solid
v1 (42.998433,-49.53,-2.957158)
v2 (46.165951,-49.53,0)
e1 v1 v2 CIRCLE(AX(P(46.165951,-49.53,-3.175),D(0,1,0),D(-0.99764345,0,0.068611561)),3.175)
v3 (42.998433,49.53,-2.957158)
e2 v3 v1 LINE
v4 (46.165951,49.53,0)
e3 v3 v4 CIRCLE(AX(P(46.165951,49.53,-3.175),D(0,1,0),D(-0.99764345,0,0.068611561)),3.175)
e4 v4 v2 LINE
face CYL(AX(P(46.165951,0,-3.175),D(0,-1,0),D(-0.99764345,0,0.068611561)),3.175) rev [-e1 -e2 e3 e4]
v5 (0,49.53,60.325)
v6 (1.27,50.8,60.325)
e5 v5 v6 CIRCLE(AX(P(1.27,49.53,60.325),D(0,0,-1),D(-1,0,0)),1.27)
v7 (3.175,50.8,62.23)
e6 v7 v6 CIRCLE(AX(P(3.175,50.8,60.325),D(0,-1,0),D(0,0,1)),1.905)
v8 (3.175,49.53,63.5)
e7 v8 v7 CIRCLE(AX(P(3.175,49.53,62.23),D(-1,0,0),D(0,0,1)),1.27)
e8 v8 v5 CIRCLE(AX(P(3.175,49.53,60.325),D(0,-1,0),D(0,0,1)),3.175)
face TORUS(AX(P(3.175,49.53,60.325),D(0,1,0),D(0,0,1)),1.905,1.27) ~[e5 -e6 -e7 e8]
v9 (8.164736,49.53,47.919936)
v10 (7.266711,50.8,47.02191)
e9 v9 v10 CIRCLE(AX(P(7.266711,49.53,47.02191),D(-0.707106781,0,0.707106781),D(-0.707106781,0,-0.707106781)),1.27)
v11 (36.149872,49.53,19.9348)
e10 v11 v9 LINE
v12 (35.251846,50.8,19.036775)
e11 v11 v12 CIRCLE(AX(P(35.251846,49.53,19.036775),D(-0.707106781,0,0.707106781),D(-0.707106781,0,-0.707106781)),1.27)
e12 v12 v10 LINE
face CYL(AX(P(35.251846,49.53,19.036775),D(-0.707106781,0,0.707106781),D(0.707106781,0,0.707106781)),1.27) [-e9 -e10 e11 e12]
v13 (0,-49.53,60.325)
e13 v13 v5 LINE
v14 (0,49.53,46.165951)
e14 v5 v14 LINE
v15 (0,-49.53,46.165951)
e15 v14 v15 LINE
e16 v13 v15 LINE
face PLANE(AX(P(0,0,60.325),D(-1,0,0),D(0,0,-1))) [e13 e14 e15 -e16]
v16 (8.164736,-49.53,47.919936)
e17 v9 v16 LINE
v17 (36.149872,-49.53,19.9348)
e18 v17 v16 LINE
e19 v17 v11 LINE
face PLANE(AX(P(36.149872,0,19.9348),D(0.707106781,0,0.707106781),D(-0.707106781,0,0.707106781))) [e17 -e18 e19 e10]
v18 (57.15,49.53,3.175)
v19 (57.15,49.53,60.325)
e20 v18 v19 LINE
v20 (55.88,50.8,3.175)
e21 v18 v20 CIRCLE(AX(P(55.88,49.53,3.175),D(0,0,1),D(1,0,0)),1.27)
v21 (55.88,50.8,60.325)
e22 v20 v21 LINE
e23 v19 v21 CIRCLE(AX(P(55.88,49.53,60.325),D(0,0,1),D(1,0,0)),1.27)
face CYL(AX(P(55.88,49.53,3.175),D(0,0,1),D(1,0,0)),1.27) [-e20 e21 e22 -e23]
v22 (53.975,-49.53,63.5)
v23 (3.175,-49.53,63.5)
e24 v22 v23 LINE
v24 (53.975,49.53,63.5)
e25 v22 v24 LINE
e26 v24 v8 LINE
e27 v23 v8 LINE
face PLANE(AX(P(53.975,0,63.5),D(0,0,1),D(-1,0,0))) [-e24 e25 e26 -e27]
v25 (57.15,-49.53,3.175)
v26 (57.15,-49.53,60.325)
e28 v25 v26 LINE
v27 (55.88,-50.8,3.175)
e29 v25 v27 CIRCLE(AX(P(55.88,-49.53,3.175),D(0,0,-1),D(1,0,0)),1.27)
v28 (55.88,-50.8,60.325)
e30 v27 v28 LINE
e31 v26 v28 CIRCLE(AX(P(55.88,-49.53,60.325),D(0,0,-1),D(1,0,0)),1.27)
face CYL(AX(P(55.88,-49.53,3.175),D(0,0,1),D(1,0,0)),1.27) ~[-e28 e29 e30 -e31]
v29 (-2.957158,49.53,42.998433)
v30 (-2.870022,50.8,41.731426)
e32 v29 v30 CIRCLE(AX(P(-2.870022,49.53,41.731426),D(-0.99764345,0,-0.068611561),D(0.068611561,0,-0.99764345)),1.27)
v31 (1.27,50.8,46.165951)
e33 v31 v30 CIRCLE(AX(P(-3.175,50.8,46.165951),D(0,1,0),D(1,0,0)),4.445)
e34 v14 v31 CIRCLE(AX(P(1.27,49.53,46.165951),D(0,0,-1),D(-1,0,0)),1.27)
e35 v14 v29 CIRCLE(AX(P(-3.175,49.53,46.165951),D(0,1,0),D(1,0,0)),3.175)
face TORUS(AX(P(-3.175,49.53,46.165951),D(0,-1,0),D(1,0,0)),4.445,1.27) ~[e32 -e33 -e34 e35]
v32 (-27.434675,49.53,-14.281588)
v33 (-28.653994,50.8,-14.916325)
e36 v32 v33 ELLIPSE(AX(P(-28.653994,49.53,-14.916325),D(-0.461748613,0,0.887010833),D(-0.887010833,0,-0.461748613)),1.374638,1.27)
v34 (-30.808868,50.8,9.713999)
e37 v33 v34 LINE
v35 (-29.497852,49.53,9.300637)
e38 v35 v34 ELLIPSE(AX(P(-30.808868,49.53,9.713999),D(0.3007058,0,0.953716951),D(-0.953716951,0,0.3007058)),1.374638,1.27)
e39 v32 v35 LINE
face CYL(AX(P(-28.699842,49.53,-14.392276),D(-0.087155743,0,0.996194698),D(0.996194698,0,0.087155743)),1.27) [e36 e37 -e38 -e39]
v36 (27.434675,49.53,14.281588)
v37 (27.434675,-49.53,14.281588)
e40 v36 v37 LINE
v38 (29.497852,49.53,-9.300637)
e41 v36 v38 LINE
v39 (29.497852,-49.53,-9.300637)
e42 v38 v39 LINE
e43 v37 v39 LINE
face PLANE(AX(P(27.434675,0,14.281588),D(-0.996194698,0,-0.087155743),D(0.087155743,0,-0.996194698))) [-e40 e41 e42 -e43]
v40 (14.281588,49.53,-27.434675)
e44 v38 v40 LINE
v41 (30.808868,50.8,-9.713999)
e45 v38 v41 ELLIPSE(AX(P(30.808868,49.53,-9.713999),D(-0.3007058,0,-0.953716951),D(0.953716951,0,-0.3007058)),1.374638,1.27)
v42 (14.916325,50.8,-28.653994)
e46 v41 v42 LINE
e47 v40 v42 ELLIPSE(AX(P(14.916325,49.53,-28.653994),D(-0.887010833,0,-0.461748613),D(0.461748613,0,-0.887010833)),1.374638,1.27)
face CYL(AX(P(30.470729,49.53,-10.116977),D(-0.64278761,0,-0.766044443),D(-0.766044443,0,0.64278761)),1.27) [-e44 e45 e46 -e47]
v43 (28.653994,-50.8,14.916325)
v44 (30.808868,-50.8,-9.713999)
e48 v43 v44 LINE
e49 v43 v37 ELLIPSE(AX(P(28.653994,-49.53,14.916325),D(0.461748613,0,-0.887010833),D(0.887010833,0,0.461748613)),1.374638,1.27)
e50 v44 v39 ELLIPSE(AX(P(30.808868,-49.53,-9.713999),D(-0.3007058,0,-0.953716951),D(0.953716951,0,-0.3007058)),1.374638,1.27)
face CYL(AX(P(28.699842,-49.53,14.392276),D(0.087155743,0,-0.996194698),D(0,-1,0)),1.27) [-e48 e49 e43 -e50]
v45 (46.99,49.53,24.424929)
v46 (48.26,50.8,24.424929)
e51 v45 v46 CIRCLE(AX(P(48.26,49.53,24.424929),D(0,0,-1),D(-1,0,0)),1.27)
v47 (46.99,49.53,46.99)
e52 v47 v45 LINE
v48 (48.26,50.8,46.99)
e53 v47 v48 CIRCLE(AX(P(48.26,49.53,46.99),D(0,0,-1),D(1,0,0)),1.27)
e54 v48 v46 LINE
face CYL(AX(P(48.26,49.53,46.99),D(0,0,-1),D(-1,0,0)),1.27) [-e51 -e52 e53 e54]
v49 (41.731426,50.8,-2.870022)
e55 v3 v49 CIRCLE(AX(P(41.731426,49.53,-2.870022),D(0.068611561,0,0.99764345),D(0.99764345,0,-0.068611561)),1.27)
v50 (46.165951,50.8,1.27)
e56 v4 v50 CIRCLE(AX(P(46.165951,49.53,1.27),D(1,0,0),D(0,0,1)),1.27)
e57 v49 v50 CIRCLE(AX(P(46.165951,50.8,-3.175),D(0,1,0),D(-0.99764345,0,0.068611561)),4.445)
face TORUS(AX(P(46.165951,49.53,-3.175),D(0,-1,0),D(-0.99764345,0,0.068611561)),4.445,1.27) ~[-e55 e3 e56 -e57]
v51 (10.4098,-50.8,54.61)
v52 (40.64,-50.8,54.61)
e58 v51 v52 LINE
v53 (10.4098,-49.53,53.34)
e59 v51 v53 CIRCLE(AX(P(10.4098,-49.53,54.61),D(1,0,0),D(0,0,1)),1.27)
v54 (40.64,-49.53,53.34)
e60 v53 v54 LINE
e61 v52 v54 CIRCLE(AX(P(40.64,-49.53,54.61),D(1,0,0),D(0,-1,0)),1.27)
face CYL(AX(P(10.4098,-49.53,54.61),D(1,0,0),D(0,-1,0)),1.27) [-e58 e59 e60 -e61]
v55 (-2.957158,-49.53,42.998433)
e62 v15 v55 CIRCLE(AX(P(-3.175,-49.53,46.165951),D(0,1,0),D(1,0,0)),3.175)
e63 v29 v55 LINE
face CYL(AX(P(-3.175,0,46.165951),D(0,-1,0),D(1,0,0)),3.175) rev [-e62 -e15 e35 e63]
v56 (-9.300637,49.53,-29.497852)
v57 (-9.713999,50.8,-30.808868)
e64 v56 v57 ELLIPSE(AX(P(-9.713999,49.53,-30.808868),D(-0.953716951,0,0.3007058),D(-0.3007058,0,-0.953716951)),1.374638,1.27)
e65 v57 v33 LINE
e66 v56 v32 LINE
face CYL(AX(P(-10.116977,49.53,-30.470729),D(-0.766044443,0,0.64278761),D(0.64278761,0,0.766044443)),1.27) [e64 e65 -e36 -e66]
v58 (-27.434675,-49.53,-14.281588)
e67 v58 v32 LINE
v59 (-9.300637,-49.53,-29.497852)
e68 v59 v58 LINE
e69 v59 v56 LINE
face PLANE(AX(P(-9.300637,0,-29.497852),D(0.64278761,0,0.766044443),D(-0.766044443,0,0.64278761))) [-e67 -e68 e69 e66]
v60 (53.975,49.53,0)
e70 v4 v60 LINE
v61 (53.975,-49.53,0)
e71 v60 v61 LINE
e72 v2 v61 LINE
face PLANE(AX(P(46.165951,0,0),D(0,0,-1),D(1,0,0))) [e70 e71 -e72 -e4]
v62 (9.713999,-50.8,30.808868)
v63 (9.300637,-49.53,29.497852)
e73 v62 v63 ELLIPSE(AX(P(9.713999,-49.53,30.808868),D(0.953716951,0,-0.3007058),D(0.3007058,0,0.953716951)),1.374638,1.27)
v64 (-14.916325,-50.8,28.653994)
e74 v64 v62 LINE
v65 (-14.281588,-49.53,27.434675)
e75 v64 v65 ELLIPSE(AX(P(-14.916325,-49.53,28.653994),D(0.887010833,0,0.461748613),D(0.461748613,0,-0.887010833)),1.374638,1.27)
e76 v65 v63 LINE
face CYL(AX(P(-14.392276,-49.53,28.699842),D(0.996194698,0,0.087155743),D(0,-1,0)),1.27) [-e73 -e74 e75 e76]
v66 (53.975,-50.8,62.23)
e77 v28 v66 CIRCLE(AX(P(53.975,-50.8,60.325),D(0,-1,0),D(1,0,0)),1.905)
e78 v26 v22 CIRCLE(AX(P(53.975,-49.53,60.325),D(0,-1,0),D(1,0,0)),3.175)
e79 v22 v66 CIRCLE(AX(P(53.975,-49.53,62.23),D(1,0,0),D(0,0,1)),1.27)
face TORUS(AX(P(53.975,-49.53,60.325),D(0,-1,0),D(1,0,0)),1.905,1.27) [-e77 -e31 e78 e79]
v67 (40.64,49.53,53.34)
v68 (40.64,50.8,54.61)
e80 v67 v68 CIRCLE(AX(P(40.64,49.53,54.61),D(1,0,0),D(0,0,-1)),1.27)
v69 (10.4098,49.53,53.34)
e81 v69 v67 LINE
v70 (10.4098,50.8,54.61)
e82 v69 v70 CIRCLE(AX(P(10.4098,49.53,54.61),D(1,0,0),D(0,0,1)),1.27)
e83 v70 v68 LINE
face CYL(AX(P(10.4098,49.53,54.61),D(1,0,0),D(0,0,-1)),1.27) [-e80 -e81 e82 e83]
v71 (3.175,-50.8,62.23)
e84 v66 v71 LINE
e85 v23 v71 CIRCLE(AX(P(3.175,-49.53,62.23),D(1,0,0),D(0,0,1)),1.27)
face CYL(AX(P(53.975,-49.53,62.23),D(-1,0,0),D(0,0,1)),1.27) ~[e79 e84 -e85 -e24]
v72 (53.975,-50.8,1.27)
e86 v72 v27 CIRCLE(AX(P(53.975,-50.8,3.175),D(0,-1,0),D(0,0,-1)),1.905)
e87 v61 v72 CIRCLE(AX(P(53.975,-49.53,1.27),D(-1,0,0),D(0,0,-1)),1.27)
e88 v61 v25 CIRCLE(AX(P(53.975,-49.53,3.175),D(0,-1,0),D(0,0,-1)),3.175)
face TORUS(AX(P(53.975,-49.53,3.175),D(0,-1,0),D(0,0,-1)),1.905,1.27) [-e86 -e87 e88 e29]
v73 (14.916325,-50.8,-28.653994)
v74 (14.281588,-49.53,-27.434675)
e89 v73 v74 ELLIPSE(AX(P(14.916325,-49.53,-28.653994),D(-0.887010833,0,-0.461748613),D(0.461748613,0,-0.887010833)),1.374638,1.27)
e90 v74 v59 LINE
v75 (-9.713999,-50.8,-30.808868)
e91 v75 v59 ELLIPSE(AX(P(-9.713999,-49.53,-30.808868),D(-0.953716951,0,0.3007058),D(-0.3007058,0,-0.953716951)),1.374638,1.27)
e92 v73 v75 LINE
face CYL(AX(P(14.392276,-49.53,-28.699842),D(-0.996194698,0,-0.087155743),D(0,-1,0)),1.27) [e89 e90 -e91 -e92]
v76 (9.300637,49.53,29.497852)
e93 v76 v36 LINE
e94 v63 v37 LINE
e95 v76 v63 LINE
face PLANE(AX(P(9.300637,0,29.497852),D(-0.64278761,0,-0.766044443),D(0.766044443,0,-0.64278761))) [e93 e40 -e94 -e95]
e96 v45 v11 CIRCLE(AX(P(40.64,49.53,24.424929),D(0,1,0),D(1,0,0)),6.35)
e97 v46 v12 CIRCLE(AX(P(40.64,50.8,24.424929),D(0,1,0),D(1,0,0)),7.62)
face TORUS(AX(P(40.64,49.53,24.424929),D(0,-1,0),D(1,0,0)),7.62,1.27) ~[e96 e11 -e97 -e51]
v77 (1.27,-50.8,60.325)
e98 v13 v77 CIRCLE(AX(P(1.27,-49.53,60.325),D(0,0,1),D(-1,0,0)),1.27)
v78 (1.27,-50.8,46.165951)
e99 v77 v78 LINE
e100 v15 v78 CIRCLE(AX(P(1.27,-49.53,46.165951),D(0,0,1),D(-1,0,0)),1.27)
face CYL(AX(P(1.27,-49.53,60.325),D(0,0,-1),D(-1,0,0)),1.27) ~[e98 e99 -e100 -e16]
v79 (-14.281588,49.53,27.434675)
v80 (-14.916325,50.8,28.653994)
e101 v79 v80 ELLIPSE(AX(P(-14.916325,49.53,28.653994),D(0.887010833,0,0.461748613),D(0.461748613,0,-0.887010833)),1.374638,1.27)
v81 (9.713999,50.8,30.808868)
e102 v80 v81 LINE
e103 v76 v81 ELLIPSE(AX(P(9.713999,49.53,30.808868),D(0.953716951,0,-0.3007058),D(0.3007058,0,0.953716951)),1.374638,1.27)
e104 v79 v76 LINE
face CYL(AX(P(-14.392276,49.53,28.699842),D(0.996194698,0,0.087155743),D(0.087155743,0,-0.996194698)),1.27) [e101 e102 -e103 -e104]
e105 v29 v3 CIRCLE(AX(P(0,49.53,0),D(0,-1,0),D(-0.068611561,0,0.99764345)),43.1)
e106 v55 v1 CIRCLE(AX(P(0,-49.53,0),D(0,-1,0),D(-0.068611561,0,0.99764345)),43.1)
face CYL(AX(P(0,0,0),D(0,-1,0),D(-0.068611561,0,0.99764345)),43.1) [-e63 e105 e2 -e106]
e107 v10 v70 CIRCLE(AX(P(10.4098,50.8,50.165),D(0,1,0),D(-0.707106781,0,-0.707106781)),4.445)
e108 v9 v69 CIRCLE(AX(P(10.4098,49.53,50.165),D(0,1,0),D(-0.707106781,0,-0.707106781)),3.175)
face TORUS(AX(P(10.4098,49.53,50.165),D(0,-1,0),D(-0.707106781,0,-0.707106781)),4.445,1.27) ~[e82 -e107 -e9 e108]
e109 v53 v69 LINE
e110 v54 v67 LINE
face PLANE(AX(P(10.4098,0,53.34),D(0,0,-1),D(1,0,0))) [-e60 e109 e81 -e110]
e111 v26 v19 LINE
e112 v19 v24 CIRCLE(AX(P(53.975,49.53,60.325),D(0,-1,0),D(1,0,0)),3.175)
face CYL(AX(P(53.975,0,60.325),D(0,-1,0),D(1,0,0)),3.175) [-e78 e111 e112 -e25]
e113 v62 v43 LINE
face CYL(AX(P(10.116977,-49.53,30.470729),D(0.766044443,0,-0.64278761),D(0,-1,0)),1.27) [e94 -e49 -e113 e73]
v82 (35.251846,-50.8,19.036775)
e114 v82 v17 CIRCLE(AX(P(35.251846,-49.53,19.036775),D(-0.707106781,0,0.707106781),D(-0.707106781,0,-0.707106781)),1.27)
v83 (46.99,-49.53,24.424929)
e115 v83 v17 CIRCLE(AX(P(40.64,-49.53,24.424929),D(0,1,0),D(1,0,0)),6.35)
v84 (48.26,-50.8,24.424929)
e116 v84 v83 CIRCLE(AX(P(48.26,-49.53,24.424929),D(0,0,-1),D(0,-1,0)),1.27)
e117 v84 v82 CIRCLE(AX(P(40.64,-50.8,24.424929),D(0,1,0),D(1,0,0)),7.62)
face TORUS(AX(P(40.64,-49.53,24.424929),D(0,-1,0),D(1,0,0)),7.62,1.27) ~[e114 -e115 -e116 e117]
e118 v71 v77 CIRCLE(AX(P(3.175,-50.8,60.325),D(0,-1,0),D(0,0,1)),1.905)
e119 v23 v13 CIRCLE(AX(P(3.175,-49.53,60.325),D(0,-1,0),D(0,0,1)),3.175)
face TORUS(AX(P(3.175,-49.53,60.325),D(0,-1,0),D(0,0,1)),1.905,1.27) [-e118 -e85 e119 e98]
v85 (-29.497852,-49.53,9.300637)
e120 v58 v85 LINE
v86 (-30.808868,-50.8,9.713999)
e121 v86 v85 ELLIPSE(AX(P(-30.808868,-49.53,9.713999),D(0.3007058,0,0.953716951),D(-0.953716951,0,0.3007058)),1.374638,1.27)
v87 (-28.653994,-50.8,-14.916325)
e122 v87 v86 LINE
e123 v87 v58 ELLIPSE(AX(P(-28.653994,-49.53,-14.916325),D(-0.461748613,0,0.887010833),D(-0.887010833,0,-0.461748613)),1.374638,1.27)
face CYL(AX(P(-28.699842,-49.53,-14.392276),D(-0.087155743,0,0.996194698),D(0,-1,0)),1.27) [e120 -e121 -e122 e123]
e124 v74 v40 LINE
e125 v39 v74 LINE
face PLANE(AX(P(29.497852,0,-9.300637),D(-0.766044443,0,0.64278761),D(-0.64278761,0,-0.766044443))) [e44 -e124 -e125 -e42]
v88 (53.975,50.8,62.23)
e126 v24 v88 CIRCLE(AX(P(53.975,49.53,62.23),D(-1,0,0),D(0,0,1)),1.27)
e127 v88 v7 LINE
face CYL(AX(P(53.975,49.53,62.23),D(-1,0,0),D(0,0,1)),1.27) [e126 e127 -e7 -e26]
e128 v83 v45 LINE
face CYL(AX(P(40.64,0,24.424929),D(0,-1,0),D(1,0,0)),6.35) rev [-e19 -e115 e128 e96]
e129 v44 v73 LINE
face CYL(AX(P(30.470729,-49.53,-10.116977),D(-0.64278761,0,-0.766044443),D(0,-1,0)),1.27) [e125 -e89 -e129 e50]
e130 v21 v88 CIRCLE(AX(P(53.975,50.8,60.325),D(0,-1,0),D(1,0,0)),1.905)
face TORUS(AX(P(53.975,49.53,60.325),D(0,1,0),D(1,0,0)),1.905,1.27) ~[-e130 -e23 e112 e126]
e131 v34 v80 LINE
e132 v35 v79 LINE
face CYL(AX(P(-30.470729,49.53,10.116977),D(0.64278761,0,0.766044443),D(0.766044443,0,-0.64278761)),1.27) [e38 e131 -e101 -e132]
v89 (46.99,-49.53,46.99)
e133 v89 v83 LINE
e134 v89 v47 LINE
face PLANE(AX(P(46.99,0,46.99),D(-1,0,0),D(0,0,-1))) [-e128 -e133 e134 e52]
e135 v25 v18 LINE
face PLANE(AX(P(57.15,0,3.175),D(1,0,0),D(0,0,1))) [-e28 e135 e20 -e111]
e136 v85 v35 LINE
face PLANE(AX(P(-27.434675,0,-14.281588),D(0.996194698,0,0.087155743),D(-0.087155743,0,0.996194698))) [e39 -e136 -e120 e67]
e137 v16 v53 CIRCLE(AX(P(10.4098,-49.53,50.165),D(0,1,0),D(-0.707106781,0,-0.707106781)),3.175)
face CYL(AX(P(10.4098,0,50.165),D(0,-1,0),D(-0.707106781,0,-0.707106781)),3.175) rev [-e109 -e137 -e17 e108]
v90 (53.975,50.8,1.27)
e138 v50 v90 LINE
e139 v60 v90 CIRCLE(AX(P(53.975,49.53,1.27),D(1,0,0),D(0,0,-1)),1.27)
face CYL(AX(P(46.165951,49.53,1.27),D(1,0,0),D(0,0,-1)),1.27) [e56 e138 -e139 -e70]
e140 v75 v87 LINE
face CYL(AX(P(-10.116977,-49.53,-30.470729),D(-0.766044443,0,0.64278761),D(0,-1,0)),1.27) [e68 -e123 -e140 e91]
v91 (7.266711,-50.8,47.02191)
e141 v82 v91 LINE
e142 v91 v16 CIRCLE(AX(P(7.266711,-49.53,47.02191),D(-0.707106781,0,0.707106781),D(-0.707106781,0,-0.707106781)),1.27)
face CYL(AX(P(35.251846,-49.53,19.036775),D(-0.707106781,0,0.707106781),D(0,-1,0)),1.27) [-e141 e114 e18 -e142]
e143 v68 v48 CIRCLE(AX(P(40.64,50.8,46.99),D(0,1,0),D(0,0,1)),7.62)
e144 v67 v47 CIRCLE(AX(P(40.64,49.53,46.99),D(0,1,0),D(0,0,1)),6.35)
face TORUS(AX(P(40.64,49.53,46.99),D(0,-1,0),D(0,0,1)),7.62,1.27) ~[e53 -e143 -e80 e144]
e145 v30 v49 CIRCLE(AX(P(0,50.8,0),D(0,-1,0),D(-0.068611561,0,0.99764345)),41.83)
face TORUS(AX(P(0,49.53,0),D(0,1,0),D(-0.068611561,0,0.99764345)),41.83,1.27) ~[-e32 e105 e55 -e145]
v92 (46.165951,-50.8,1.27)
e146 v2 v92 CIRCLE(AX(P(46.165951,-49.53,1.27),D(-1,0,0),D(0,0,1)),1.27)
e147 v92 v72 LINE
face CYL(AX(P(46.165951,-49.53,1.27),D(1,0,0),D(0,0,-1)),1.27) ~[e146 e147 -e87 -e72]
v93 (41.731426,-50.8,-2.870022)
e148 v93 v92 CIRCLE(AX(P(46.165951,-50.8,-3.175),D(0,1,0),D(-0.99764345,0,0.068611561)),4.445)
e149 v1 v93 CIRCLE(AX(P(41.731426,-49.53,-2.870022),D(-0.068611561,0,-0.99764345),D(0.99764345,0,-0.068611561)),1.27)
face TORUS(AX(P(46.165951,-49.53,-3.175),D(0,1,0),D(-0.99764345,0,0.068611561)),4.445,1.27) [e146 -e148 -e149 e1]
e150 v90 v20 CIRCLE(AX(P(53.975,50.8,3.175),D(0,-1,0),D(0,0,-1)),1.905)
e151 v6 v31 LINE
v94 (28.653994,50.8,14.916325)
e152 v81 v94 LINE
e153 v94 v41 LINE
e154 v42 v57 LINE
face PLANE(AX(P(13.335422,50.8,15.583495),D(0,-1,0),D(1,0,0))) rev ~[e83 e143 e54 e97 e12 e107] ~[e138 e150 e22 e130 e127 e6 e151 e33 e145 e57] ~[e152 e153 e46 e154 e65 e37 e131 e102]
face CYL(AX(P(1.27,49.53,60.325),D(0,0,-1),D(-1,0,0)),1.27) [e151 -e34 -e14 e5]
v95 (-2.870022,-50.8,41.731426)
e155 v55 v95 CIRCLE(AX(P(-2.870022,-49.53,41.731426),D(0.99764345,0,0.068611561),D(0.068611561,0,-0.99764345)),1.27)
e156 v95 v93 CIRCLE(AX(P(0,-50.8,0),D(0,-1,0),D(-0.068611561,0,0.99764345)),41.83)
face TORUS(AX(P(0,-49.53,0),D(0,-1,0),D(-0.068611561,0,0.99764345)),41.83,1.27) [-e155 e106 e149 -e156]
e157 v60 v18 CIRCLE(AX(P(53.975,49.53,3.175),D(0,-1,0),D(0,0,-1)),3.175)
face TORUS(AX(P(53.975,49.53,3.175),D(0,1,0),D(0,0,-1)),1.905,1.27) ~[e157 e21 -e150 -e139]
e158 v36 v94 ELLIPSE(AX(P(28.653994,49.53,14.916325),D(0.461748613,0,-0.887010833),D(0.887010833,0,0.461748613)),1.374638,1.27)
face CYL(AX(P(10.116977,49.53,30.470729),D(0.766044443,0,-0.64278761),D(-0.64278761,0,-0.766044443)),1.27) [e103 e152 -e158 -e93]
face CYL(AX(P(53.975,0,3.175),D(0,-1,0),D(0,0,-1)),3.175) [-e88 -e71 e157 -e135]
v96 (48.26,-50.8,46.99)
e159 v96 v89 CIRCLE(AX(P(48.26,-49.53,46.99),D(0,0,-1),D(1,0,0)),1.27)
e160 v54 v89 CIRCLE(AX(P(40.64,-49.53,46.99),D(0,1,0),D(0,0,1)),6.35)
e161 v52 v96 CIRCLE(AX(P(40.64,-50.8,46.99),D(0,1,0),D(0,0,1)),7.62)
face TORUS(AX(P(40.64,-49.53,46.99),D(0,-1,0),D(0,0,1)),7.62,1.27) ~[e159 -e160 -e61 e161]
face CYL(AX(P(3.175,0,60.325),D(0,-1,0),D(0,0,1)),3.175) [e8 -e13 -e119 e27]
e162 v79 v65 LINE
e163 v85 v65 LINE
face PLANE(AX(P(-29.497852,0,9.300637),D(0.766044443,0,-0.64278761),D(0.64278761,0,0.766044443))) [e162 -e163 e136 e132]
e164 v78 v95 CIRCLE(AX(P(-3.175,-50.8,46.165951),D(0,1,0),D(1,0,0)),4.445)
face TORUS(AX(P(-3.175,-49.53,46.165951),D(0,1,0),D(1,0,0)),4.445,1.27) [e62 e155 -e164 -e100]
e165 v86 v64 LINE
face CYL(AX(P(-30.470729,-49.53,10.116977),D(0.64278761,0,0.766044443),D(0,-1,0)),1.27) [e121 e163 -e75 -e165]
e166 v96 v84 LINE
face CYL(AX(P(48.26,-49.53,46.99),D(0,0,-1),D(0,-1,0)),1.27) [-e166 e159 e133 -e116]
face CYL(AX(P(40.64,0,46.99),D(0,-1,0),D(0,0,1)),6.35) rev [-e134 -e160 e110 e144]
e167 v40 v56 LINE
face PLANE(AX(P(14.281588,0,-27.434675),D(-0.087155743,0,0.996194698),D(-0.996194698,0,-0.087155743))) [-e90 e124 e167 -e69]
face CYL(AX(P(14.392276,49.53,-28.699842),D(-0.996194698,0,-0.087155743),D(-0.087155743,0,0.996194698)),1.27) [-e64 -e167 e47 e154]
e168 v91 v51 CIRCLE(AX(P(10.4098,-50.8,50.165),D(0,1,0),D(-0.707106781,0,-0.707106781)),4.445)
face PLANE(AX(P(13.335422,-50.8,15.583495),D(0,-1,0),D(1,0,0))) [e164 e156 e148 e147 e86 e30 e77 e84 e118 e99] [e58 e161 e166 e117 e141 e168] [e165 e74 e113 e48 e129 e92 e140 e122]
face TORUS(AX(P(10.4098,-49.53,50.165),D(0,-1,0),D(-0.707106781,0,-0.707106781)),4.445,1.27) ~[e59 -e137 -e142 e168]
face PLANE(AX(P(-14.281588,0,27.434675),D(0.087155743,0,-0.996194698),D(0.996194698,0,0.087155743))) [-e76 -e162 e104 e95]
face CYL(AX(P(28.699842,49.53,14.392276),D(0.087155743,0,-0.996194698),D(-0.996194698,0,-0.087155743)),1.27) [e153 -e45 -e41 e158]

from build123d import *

# Parameters (mm, degrees)
F1_DEPTH = 50.8
F2_R     = 1.27


with BuildPart() as f1:
    # F0 (on Front) → F1 (new body, symmetric)
    with BuildSketch(Plane.XZ):
        with BuildLine():
            Line((0, 60.325), (0, 46.1659506563))
            ThreePointArc((0, 46.1659506563), (-0.854194922, 43.9992737561), (-2.9571582928, 42.998432702))
            ThreePointArc((-2.9571582928, 42.998432702), (-30.4763022691, -30.4763022691), (42.998432702, -2.9571582928))
            ThreePointArc((42.998432702, -2.9571582928), (43.9992737561, -0.854194922), (46.1659506563, 0))
            Line((46.1659506563, 0), (53.975, 0))
            ThreePointArc((53.975, 0), (56.2200640303, 0.9299359697), (57.15, 3.175))
            Line((57.15, 3.175), (57.15, 60.325))
            ThreePointArc((57.15, 60.325), (56.2200640303, 62.5700640303), (53.975, 63.5))
            Line((53.975, 63.5), (3.175, 63.5))
            ThreePointArc((3.175, 63.5), (0.9299359697, 62.5700640303), (0, 60.325))
        make_face()
        Polygon((-14.28158776, 27.4346748317), (9.3006370619, 29.4978521643), (27.4346748317, 14.28158776), (29.4978521643, -9.3006370619), (14.28158776, -27.4346748317), (-9.3006370619, -29.4978521643), (-27.4346748317, -14.28158776), (-29.4978521643, 9.3006370619), align=None, mode=Mode.SUBTRACT)
        with BuildLine():
            ThreePointArc((8.1647364156, 47.9199359697), (7.4764829301, 51.3800198978), (10.4098004459, 53.34))
            Line((10.4098004459, 53.34), (40.64, 53.34))
            ThreePointArc((40.64, 53.34), (45.1301280605, 51.4801280605), (46.99, 46.99))
            Line((46.99, 46.99), (46.99, 24.4249285064))
            ThreePointArc((46.99, 24.4249285064), (43.0700397955, 18.5582934749), (36.1498719395, 19.9348004459))
            Line((36.1498719395, 19.9348004459), (8.1647364156, 47.9199359697))
        make_face(mode=Mode.SUBTRACT)
    extrude(amount=F1_DEPTH, both=True)

    # F2
    f2_edges = [f1.edges().sort_by_distance(p)[0] for p in [
        (56.220064, -50.8, 62.570064),
        (28.575, -50.8, 63.5),
        (0.929936, -50.8, 62.570064),
        (0, -50.8, 53.245475),
        (-0.854195, -50.8, 43.999274),
        (-30.476302, -50.8, -30.476302),
        (43.999274, -50.8, -0.854195),
        (50.070475, -50.8, 0),
        (56.220064, -50.8, 0.929936),
        (57.15, -50.8, 31.75),
        (-2.490475, -50.8, 28.466263),
        (18.367656, -50.8, 21.88972),
        (28.466263, -50.8, 2.490475),
        (21.88972, -50.8, -18.367656),
        (2.490475, -50.8, -28.466263),
        (-18.367656, -50.8, -21.88972),
        (-28.466263, -50.8, -2.490475),
        (-21.88972, -50.8, 18.367656),
        (7.476483, -50.8, 51.38002),
        (25.5249, -50.8, 53.34),
        (45.130128, -50.8, 51.480128),
        (46.99, -50.8, 35.707464),
        (43.07004, -50.8, 18.558293),
        (22.157304, -50.8, 33.927368),
        (56.220064, 50.8, 62.570064),
        (28.575, 50.8, 63.5),
        (0.929936, 50.8, 62.570064),
        (0, 50.8, 53.245475),
        (-0.854195, 50.8, 43.999274),
        (-30.476302, 50.8, -30.476302),
        (43.999274, 50.8, -0.854195),
        (50.070475, 50.8, 0),
        (56.220064, 50.8, 0.929936),
        (57.15, 50.8, 31.75),
        (-2.490475, 50.8, 28.466263),
        (18.367656, 50.8, 21.88972),
        (28.466263, 50.8, 2.490475),
        (21.88972, 50.8, -18.367656),
        (2.490475, 50.8, -28.466263),
        (-18.367656, 50.8, -21.88972),
        (-28.466263, 50.8, -2.490475),
        (-21.88972, 50.8, 18.367656),
        (7.476483, 50.8, 51.38002),
        (25.5249, 50.8, 53.34),
        (45.130128, 50.8, 51.480128),
        (46.99, 50.8, 35.707464),
        (43.07004, 50.8, 18.558293),
        (22.157304, 50.8, 33.927368),
    ]]
    fillet(f2_edges, radius=F2_R)


solid = f1.part
